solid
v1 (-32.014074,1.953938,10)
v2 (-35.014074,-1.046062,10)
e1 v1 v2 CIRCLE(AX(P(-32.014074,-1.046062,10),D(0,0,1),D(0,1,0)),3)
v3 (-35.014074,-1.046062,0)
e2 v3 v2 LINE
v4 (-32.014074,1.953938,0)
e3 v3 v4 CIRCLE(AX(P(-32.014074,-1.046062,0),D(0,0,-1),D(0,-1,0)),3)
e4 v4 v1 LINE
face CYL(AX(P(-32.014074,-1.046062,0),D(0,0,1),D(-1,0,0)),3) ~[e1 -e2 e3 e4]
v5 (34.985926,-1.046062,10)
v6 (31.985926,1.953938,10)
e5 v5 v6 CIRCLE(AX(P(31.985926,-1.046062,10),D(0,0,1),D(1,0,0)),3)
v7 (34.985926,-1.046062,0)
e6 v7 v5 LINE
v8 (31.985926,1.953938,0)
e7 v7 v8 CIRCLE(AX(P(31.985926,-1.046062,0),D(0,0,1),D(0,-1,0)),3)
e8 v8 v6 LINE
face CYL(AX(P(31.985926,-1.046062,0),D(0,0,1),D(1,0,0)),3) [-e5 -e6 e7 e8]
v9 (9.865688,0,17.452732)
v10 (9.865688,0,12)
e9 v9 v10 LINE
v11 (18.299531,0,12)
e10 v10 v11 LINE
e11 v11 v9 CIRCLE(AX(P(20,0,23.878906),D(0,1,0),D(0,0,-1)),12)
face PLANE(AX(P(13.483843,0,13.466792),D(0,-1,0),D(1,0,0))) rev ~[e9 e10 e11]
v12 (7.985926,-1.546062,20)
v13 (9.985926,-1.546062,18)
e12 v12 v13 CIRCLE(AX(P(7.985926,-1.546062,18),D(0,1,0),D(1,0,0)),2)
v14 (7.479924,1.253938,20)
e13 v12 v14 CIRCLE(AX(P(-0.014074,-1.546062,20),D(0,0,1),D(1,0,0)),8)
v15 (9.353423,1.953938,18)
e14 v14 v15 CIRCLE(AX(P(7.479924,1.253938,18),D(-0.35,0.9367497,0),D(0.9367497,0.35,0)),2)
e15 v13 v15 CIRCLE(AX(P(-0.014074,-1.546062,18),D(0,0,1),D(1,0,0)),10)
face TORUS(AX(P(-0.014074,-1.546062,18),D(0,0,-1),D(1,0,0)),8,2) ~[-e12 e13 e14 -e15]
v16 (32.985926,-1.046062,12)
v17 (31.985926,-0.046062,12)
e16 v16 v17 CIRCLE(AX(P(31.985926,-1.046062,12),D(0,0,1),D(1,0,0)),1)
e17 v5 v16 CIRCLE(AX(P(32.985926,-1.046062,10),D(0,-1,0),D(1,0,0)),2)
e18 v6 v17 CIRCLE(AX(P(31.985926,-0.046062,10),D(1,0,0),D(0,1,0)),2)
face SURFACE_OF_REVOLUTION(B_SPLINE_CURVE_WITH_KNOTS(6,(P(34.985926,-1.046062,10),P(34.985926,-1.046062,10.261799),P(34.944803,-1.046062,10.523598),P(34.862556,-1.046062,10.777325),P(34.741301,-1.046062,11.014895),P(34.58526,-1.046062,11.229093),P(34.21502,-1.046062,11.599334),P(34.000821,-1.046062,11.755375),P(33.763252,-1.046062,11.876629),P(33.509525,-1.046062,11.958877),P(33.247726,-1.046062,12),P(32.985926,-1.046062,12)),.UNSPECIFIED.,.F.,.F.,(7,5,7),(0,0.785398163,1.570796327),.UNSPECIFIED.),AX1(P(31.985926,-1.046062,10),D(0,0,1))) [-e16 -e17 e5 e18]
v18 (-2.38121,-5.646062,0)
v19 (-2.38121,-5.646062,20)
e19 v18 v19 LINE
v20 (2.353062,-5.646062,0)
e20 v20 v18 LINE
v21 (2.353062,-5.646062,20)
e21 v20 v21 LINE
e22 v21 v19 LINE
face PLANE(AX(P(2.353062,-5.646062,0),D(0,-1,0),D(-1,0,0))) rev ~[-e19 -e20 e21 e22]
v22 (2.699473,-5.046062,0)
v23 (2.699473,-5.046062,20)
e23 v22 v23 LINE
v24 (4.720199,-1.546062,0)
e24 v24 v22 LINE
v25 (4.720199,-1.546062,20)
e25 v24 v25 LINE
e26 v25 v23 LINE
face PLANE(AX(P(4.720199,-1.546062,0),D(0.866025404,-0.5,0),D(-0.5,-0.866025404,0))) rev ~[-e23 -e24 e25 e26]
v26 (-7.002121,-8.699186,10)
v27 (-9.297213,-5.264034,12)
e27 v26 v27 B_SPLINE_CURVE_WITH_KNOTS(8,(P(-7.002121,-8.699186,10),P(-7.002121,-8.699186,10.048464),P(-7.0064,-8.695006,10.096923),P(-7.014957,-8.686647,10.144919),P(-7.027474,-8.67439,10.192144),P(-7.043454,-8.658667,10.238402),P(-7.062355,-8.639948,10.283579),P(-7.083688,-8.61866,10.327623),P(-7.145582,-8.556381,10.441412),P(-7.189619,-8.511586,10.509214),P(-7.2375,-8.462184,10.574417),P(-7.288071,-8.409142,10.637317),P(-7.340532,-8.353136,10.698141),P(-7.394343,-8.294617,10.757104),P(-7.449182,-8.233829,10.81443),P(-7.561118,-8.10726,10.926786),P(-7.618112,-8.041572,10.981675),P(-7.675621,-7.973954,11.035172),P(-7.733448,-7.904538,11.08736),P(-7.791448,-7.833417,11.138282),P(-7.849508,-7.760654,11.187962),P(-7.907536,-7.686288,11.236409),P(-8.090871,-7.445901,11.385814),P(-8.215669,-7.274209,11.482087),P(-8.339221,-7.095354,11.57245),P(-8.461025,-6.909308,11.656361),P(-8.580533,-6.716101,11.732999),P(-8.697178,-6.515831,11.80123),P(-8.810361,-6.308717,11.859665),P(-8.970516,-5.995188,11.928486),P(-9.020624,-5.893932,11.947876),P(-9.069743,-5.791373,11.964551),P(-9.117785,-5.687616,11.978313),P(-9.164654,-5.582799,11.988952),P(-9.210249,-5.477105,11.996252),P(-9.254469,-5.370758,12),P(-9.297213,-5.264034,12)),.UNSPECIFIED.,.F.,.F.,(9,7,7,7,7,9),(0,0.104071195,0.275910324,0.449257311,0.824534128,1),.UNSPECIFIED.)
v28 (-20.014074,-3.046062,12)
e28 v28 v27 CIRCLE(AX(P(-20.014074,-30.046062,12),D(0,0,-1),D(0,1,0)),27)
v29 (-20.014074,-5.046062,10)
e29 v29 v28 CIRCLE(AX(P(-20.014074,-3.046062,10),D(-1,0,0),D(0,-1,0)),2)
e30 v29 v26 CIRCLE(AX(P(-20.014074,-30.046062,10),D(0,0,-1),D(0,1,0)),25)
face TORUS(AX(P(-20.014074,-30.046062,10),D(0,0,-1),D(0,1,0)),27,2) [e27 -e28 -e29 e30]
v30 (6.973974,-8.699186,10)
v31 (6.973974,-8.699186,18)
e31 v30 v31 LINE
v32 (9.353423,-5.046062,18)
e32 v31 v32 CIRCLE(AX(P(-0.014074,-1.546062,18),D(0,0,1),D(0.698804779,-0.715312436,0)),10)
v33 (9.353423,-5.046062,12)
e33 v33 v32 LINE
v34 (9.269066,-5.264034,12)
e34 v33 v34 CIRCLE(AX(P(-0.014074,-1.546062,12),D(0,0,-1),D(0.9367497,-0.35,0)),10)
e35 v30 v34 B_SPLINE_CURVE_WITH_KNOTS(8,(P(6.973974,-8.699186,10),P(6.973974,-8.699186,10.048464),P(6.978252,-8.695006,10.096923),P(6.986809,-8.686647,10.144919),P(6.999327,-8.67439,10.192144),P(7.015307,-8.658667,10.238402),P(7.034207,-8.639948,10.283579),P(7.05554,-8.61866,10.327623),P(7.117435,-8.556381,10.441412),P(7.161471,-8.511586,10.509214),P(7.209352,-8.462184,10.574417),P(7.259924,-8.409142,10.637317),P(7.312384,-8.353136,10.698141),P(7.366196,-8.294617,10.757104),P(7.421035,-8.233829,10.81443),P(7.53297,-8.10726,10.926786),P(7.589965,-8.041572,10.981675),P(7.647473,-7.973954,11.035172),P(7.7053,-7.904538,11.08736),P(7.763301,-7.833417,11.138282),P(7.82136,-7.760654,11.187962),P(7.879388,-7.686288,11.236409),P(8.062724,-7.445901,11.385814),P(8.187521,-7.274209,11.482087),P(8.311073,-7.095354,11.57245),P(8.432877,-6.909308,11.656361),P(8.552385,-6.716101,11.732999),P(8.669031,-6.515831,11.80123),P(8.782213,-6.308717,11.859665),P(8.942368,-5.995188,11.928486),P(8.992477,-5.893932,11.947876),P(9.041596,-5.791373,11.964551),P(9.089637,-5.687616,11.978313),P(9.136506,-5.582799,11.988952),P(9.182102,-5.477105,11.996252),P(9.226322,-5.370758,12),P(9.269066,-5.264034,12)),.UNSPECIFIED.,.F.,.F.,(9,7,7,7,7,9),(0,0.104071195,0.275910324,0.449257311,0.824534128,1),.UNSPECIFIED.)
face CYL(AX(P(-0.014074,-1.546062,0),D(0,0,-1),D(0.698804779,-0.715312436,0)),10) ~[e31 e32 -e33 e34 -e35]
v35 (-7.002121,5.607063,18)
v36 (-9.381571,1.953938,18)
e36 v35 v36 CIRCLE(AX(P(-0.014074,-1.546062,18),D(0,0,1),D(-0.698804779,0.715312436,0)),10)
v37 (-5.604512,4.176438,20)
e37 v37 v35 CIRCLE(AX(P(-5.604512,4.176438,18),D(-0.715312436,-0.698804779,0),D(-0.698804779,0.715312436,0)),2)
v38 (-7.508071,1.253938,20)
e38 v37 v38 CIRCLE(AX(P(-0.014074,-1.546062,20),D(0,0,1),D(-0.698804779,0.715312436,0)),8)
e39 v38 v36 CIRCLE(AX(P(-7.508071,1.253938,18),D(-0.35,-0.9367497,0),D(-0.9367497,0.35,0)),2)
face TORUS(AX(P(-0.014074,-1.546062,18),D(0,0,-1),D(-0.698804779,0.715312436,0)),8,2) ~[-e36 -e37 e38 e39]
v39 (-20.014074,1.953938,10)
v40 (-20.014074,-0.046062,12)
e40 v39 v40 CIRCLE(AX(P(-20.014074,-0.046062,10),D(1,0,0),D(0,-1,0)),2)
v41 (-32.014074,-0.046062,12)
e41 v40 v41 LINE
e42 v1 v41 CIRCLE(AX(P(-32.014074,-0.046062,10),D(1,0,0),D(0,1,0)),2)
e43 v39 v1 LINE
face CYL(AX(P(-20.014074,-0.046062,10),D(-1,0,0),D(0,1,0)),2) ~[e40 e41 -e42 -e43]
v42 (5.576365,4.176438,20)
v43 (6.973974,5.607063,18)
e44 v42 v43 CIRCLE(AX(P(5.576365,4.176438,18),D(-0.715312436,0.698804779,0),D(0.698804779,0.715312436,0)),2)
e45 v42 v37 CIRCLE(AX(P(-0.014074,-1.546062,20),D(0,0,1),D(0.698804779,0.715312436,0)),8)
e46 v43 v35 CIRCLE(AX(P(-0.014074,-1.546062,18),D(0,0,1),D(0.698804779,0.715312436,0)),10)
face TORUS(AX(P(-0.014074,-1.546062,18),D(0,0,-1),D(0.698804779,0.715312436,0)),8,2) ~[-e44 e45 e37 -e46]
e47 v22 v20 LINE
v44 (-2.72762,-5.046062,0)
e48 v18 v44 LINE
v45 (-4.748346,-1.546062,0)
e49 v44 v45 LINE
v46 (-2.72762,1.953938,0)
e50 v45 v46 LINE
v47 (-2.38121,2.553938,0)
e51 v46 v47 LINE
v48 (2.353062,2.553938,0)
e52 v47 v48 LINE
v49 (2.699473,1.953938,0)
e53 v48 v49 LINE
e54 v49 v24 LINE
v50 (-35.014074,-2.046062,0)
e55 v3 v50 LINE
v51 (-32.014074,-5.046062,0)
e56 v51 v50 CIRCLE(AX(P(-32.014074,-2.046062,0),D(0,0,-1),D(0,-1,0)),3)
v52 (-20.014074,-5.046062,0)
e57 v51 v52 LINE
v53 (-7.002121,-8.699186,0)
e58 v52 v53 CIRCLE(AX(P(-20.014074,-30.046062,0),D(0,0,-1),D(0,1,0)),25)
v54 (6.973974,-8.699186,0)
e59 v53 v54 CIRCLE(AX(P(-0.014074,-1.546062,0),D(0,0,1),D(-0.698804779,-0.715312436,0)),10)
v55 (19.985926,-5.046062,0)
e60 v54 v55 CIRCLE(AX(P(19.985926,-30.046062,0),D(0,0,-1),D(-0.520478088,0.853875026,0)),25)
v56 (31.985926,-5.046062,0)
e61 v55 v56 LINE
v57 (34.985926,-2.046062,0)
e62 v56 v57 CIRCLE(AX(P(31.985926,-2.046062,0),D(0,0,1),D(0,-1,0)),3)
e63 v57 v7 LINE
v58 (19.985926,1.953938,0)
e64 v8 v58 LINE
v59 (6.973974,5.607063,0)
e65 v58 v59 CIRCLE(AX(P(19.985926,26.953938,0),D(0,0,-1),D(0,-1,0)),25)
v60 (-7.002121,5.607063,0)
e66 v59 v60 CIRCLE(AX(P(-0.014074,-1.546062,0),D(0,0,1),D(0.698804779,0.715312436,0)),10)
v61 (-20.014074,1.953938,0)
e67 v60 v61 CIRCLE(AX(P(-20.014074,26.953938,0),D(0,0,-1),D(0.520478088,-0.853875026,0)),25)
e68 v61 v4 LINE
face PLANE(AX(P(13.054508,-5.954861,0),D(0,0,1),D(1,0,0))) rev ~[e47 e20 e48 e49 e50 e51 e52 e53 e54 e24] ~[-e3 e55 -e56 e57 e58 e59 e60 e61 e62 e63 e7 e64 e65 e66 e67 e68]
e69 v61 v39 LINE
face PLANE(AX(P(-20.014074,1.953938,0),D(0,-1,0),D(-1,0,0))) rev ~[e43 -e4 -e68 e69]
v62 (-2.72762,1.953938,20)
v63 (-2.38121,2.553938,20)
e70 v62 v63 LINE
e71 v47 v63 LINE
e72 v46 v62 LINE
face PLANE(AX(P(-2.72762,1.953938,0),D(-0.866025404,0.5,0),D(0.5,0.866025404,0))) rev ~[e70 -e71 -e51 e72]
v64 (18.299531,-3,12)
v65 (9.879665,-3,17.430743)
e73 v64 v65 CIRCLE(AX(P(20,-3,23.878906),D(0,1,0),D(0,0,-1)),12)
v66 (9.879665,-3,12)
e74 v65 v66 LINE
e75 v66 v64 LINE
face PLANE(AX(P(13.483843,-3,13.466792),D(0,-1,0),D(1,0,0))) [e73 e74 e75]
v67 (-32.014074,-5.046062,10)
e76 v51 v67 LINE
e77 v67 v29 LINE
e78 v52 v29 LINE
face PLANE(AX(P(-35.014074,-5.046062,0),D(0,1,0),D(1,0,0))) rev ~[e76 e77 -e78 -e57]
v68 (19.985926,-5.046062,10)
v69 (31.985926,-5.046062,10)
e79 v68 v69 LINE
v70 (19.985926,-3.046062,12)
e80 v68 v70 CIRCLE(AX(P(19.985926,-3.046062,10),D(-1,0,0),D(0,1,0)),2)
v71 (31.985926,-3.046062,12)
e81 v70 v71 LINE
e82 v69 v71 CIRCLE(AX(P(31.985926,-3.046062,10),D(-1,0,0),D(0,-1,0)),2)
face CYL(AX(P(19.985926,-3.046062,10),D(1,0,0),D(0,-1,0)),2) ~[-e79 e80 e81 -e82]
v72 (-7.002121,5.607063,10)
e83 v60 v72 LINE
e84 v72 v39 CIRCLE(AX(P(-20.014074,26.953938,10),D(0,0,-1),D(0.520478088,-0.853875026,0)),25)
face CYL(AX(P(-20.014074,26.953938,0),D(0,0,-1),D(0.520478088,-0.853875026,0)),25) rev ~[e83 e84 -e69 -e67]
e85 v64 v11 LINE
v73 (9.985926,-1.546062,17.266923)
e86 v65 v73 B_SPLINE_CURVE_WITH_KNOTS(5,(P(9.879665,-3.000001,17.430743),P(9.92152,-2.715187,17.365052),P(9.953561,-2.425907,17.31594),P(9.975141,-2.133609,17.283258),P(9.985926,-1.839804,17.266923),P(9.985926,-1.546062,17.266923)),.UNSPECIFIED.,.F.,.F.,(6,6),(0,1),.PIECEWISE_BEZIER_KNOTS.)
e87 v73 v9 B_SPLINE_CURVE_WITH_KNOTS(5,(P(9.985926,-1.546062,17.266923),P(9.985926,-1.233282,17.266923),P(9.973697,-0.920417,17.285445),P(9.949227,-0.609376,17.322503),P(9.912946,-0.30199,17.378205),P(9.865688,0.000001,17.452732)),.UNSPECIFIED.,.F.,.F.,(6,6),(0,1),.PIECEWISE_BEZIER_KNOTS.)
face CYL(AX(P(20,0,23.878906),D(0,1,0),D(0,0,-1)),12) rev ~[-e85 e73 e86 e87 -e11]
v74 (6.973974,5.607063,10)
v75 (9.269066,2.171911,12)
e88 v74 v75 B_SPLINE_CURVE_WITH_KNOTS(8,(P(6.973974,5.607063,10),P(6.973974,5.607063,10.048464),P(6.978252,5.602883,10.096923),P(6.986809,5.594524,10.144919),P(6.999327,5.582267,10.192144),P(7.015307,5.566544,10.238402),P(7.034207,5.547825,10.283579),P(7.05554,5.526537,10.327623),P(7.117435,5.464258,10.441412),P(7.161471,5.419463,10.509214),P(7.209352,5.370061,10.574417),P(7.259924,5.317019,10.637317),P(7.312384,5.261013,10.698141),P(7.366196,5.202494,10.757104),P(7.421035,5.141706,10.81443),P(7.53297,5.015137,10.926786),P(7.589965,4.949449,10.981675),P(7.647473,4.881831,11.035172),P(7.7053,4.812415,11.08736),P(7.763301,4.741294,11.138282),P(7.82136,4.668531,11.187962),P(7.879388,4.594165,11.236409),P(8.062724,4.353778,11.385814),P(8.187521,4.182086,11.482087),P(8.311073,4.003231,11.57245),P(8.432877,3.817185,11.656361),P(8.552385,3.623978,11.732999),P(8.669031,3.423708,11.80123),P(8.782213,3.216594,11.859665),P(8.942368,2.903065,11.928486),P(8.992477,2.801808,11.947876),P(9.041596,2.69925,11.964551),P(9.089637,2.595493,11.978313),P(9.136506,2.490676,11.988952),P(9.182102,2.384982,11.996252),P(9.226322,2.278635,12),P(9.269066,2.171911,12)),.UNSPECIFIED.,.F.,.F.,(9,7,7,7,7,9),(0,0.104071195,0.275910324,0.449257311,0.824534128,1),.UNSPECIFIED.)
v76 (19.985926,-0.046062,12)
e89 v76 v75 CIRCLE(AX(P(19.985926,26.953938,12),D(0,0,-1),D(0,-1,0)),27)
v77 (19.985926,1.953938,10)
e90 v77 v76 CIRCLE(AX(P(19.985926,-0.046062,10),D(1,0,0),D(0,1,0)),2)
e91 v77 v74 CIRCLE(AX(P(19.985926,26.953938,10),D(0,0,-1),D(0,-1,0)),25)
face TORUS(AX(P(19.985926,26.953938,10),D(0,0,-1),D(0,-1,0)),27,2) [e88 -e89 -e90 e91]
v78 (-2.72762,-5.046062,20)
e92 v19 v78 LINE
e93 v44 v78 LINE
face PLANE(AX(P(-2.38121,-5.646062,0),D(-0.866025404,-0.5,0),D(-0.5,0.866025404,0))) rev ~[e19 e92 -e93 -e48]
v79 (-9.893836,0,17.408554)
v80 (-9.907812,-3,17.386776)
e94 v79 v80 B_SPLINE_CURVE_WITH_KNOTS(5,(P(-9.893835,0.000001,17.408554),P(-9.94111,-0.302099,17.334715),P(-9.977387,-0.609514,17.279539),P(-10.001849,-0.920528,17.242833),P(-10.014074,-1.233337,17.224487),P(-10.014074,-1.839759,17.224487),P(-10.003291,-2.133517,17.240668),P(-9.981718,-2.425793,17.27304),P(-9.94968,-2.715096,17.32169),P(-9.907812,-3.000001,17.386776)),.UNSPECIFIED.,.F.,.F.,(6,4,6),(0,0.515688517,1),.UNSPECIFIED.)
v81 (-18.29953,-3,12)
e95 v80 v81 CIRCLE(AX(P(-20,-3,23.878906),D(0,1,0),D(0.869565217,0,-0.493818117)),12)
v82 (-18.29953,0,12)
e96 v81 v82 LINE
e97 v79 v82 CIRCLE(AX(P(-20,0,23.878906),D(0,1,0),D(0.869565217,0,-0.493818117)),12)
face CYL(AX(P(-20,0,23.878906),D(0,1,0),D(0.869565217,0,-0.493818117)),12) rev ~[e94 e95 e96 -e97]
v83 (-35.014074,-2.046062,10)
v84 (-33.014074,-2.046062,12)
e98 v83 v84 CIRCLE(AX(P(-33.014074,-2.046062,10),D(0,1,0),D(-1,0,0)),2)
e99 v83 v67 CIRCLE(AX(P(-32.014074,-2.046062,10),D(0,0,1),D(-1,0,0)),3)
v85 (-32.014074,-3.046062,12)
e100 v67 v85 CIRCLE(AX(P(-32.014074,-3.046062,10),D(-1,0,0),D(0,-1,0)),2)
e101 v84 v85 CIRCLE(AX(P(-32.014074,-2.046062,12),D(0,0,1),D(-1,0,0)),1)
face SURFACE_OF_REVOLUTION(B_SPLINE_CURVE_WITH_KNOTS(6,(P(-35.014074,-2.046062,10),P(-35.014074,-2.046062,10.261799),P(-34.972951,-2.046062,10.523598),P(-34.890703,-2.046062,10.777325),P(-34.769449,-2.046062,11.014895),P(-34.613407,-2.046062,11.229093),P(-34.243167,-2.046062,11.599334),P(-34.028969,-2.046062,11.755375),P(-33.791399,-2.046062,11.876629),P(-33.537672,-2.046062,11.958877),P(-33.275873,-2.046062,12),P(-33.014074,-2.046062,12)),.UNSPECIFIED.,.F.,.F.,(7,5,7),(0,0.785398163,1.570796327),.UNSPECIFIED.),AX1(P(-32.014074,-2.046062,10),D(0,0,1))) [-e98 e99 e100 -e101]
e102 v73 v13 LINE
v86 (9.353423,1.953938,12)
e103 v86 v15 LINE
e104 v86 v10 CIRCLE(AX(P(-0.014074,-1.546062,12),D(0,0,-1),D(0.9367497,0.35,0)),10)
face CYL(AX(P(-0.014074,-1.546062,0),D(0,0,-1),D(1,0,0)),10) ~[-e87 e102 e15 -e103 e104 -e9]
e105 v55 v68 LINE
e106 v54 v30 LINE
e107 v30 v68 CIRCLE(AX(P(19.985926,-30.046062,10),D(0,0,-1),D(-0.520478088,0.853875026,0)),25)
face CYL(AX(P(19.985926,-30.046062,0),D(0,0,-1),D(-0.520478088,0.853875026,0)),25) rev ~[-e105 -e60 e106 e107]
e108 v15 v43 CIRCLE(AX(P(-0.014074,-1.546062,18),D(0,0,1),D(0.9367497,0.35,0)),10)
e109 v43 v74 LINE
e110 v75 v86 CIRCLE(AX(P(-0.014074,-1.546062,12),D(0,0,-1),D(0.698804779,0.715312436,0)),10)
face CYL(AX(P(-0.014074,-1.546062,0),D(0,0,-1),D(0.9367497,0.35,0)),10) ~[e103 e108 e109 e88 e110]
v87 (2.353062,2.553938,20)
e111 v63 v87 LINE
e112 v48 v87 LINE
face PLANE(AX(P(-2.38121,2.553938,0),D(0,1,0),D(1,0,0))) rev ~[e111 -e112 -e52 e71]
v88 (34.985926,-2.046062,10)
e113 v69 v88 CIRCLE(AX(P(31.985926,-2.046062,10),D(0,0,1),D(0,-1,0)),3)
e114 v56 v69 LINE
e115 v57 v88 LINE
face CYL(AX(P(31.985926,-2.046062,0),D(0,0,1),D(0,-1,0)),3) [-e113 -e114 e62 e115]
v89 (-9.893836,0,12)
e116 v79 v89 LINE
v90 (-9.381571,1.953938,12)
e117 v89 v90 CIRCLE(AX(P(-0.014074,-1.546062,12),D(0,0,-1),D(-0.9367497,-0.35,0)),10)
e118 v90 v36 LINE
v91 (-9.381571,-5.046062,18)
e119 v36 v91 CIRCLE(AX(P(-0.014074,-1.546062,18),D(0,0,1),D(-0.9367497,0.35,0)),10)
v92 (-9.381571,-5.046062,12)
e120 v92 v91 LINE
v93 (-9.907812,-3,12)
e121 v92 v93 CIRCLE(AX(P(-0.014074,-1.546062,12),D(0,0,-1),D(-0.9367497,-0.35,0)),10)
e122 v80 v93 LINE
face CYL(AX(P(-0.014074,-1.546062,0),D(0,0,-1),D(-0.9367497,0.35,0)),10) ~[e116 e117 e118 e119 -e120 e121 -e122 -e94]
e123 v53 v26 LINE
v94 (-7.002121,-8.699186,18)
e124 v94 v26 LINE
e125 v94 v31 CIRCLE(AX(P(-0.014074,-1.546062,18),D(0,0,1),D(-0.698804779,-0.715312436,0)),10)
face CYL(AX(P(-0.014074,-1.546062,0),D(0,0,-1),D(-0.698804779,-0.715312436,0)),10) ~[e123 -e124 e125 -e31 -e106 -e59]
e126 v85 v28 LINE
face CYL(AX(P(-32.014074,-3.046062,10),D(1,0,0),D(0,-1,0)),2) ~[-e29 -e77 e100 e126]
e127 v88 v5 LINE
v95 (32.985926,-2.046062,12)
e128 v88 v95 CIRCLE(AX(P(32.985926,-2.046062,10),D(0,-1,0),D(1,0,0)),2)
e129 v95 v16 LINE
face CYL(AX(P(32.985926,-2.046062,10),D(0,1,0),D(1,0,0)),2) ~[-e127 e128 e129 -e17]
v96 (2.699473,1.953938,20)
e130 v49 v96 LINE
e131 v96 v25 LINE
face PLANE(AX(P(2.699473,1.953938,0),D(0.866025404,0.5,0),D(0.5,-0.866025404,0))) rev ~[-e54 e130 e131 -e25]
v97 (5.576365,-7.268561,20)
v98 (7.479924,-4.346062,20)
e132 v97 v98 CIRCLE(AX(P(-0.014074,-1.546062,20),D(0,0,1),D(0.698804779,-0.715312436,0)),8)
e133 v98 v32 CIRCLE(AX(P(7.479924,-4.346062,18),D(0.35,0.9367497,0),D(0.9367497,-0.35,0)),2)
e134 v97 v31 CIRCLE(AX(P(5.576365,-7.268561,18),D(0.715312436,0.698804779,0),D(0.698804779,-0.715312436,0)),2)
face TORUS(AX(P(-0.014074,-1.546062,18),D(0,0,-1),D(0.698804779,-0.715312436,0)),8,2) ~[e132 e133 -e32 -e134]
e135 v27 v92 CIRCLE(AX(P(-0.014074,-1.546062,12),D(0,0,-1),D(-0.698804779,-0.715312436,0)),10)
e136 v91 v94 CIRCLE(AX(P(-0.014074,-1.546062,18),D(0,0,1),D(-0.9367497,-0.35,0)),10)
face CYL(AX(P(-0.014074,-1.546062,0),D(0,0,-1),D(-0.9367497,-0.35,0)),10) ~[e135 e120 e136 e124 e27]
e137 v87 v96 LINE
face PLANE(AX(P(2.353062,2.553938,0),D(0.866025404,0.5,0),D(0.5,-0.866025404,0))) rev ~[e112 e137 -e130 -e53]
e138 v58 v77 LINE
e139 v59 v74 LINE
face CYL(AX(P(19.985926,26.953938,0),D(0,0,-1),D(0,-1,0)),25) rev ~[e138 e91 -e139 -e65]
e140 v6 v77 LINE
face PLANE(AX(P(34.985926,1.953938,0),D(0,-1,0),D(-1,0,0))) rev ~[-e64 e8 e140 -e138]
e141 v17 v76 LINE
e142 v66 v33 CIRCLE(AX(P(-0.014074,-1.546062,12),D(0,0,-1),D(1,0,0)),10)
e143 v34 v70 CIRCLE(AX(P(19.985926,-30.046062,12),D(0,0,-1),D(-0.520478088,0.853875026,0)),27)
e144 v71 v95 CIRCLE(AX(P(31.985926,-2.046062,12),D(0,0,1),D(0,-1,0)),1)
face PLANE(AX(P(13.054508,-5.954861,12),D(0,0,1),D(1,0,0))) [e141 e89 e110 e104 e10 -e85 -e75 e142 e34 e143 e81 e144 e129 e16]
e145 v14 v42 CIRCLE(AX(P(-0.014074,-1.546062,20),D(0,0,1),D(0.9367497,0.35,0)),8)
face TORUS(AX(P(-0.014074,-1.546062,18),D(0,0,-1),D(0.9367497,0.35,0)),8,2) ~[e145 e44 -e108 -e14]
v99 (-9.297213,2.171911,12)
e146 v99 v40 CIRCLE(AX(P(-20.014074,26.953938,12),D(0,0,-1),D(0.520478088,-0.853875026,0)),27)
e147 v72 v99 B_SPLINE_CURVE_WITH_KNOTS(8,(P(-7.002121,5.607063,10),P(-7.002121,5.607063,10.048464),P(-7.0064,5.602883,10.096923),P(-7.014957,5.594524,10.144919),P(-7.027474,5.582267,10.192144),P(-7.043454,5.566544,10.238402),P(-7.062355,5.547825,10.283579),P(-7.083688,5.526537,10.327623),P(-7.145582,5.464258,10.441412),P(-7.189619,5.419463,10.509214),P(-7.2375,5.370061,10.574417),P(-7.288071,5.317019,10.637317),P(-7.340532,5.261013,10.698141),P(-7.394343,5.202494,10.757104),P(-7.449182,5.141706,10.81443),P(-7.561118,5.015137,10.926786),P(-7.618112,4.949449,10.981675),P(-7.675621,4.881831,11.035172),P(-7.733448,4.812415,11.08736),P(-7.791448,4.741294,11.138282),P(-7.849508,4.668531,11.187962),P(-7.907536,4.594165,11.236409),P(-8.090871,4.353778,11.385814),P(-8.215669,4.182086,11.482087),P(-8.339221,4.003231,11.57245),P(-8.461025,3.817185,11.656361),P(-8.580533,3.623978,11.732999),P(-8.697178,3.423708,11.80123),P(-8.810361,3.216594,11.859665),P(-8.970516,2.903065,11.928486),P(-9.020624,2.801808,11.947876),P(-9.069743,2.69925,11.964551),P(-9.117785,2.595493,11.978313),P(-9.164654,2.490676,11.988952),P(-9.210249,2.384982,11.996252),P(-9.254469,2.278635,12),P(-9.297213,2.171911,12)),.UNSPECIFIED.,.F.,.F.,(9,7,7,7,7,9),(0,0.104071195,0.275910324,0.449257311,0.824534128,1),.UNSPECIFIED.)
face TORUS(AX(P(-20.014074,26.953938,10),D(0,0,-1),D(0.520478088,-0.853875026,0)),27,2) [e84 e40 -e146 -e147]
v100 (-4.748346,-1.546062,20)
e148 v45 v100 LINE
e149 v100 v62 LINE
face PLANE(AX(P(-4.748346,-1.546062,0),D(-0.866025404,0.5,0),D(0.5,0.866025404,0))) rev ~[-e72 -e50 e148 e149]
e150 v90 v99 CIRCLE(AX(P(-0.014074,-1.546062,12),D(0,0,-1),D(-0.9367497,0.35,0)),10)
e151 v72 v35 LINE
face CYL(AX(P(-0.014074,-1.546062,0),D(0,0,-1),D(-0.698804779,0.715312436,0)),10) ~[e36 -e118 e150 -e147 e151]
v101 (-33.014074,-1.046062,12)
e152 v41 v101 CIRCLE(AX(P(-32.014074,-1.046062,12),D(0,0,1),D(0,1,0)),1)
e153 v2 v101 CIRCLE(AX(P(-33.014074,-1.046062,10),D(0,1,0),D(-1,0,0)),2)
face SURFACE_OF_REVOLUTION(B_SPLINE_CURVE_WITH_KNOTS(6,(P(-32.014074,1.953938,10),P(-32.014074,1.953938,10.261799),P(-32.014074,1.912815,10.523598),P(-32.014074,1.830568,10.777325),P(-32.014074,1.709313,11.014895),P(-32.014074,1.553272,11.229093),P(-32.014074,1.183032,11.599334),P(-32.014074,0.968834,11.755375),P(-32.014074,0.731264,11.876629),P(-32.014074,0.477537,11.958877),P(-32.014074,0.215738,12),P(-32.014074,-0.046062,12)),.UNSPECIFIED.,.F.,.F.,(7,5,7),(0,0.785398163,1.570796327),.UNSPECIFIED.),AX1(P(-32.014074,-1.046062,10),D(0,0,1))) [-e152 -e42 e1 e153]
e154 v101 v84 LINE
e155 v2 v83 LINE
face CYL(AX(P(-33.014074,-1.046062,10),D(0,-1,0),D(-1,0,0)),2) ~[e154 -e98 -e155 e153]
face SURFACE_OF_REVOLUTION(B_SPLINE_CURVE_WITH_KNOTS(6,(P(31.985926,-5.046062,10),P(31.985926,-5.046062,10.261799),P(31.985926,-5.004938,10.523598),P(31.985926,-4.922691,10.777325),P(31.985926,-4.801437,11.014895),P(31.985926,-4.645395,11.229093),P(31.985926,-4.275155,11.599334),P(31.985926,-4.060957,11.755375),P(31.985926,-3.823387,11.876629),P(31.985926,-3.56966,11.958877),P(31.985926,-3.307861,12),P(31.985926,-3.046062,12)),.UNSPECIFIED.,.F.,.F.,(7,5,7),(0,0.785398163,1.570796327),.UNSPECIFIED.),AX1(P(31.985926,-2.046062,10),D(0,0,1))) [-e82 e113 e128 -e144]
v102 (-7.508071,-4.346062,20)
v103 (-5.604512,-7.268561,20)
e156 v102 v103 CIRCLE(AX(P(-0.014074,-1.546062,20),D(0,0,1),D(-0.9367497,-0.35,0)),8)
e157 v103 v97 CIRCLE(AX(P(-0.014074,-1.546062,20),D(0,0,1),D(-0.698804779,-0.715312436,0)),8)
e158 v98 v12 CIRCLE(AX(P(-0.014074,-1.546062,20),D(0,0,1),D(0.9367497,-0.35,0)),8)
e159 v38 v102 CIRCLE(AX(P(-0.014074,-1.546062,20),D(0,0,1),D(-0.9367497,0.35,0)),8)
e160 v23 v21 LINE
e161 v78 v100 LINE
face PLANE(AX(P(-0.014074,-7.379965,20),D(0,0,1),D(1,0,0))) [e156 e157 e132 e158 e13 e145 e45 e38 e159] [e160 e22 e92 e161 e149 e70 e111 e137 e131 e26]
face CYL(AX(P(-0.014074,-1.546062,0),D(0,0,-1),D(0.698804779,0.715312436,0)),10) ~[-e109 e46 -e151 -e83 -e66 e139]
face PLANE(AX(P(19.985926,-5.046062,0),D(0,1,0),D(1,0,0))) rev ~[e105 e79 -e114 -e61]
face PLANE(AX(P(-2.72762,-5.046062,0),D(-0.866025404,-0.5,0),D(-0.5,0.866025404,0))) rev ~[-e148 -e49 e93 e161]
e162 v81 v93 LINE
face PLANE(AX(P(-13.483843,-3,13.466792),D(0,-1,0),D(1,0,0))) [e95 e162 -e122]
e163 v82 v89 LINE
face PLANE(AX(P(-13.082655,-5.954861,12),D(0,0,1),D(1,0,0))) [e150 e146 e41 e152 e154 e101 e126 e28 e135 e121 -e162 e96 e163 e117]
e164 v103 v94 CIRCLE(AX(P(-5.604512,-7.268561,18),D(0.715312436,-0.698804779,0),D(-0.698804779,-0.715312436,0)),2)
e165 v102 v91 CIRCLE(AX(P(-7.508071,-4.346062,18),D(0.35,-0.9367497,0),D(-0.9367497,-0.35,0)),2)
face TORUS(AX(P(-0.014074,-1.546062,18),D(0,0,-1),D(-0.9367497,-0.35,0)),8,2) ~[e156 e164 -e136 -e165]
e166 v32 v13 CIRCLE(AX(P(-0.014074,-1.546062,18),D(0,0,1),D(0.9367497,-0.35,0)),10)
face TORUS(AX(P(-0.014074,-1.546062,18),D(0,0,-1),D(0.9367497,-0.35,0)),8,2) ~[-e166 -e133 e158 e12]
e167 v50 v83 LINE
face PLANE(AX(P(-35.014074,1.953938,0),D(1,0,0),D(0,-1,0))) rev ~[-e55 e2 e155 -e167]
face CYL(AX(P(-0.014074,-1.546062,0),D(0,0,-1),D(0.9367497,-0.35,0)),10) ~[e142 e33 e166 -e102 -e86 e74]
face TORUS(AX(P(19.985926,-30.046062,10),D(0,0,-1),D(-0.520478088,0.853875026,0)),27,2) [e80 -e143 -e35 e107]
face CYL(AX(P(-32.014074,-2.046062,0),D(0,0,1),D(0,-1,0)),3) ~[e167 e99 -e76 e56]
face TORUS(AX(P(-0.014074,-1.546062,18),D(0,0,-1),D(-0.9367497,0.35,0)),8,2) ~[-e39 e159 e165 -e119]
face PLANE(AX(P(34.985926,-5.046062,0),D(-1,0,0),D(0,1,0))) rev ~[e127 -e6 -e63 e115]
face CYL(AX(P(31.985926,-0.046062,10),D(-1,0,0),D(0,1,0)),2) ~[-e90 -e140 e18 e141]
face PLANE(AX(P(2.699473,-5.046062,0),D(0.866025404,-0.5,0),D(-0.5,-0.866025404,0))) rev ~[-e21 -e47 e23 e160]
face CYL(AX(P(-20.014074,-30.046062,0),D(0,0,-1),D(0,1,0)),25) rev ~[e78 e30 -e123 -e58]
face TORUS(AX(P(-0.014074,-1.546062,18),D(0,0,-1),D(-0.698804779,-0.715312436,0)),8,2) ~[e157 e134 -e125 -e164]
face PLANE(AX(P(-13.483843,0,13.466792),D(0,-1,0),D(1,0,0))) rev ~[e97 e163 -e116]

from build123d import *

# Parameters (mm, degrees)
F1_DEPTH = 20
F2_DEPTH = 12
F3_R     = 3
F4_R     = 2
F6_DEPTH = 3


with BuildPart() as f1:
    # F0 (on Top) → F1 (new body)
    with BuildSketch(Plane.XY):
        with BuildLine():
            Line((-2.7276199649, -5.0460615367), (-9.3815706973, -5.0460615367))
            ThreePointArc((-9.3815706973, -5.0460615367), (-8.3933511583, -7.0038733026), (-7.002121491, -8.6991858936))
            ThreePointArc((-7.002121491, -8.6991858936), (-0.0140736997, -11.5460615367), (6.9739740916, -8.6991858936))
            ThreePointArc((6.9739740916, -8.6991858936), (8.3652037588, -7.0038733026), (9.3534232979, -5.0460615367))
            Line((9.3534232979, -5.0460615367), (2.6994725655, -5.0460615367))
            Line((2.6994725655, -5.0460615367), (2.353062404, -5.6460615367))
            Line((2.353062404, -5.6460615367), (-2.3812098034, -5.6460615367))
            Line((-2.3812098034, -5.6460615367), (-2.7276199649, -5.0460615367))
        make_face()
        with BuildLine():
            Line((-2.7276199649, 1.9539384633), (-9.3815706973, 1.9539384633))
            ThreePointArc((-9.3815706973, 1.9539384633), (-10.0140736997, -1.5460615367), (-9.3815706973, -5.0460615367))
            Line((-9.3815706973, -5.0460615367), (-2.7276199649, -5.0460615367))
            Line((-2.7276199649, -5.0460615367), (-4.7483459071, -1.5460615367))
            Line((-4.7483459071, -1.5460615367), (-2.7276199649, 1.9539384633))
        make_face()
        with BuildLine():
            ThreePointArc((-7.002121491, 5.6070628203), (-8.3933511583, 3.9117502293), (-9.3815706973, 1.9539384633))
            Line((-9.3815706973, 1.9539384633), (-2.7276199649, 1.9539384633))
            Line((-2.7276199649, 1.9539384633), (-2.3812098034, 2.5539384633))
            Line((-2.3812098034, 2.5539384633), (2.353062404, 2.5539384633))
            Line((2.353062404, 2.5539384633), (2.6994725655, 1.9539384633))
            Line((2.6994725655, 1.9539384633), (9.3534232979, 1.9539384633))
            ThreePointArc((9.3534232979, 1.9539384633), (8.3652037588, 3.9117502293), (6.9739740916, 5.6070628203))
            ThreePointArc((6.9739740916, 5.6070628203), (-0.0140736997, 8.4539384633), (-7.002121491, 5.6070628203))
        make_face()
        with BuildLine():
            Line((9.3534232979, 1.9539384633), (2.6994725655, 1.9539384633))
            Line((2.6994725655, 1.9539384633), (4.7201985076, -1.5460615367))
            Line((4.7201985076, -1.5460615367), (2.6994725655, -5.0460615367))
            Line((2.6994725655, -5.0460615367), (9.3534232979, -5.0460615367))
            ThreePointArc((9.3534232979, -5.0460615367), (9.8265301937, -3.3244076818), (9.9859263003, -1.5460615367))
            ThreePointArc((9.9859263003, -1.5460615367), (9.8265301937, 0.2322846085), (9.3534232979, 1.9539384633))
        make_face()
    extrude(amount=F1_DEPTH)

    # F0 (on Top) → F2 (join)
    with BuildSketch(Plane.XY):
        with BuildLine():
            ThreePointArc((9.3534232979, -5.0460615367), (8.3652037588, -7.0038733026), (6.9739740916, -8.6991858936))
            ThreePointArc((6.9739740916, -8.6991858936), (13.2284079346, -5.9766630079), (19.9859263003, -5.0460615367))
            Line((19.9859263003, -5.0460615367), (9.3534232979, -5.0460615367))
        make_face()
        with BuildLine():
            ThreePointArc((19.9859263003, 1.9539384633), (13.2284079346, 2.8845399345), (6.9739740916, 5.6070628203))
            ThreePointArc((6.9739740916, 5.6070628203), (8.3652037588, 3.9117502293), (9.3534232979, 1.9539384633))
            Line((9.3534232979, 1.9539384633), (19.9859263003, 1.9539384633))
        make_face()
        with BuildLine():
            Line((19.9859263003, 1.9539384633), (9.3534232979, 1.9539384633))
            ThreePointArc((9.3534232979, 1.9539384633), (9.8265301937, 0.2322846085), (9.9859263003, -1.5460615367))
            ThreePointArc((9.9859263003, -1.5460615367), (9.8265301937, -3.3244076818), (9.3534232979, -5.0460615367))
            Line((9.3534232979, -5.0460615367), (19.9859263003, -5.0460615367))
            Line((19.9859263003, -5.0460615367), (34.9859263003, -5.0460615367))
            Line((34.9859263003, -5.0460615367), (34.9859263003, 1.9539384633))
            Line((34.9859263003, 1.9539384633), (19.9859263003, 1.9539384633))
        make_face()
        with BuildLine():
            Line((-9.3815706973, -5.0460615367), (-20.0140736997, -5.0460615367))
            ThreePointArc((-20.0140736997, -5.0460615367), (-13.2565553341, -5.9766630079), (-7.002121491, -8.6991858936))
            ThreePointArc((-7.002121491, -8.6991858936), (-8.3933511583, -7.0038733026), (-9.3815706973, -5.0460615367))
        make_face()
        with BuildLine():
            Line((-20.0140736997, 1.9539384633), (-35.0140736997, 1.9539384633))
            Line((-35.0140736997, 1.9539384633), (-35.0140736997, -5.0460615367))
            Line((-35.0140736997, -5.0460615367), (-20.0140736997, -5.0460615367))
            Line((-20.0140736997, -5.0460615367), (-9.3815706973, -5.0460615367))
            ThreePointArc((-9.3815706973, -5.0460615367), (-10.0140736997, -1.5460615367), (-9.3815706973, 1.9539384633))
            Line((-9.3815706973, 1.9539384633), (-20.0140736997, 1.9539384633))
        make_face()
        with BuildLine():
            ThreePointArc((-7.002121491, 5.6070628203), (-13.2565553341, 2.8845399345), (-20.0140736997, 1.9539384633))
            Line((-20.0140736997, 1.9539384633), (-9.3815706973, 1.9539384633))
            ThreePointArc((-9.3815706973, 1.9539384633), (-8.3933511583, 3.9117502293), (-7.002121491, 5.6070628203))
        make_face()
    extrude(amount=F2_DEPTH)

    # F3
    f3_edges = [f1.edges().sort_by_distance(p)[0] for p in [
        (-35.014074, 1.953938, 6),
        (-35.014074, -5.046062, 6),
        (34.985926, -5.046062, 6),
        (34.985926, 1.953938, 6),
    ]]
    fillet(f3_edges, radius=F3_R)

    # F4
    f4_edges = [f1.edges().sort_by_distance(p)[0] for p in [
        (-26.014074, -5.046062, 12),
        (13.228408, -5.976663, 12),
        (-9.381571, 1.953938, 20),
    ]]
    fillet(f4_edges, radius=F4_R)

    # F5 (on Front) → F6 (join)
    with BuildSketch(Plane.XZ):
        with BuildLine():
            ThreePointArc((-9.5652169443, 17.9530884136), (-13.9630221988, 13.5080377527), (-19.999999553, 11.8789058179))
            Line((-19.999999553, 11.8789058179), (-9.5652169443, 11.8789058179))
            Line((-9.5652169443, 11.8789058179), (-9.5652169443, 17.9530884136))
        make_face()
        with BuildLine():
            ThreePointArc((20.000000447, 11.8789058179), (13.9630230929, 13.5080377527), (9.5652178383, 17.9530884136))
            Line((9.5652178383, 17.9530884136), (9.5652178383, 11.8789058179))
            Line((9.5652178383, 11.8789058179), (20.000000447, 11.8789058179))
        make_face()
    extrude(amount=F6_DEPTH)


solid = f1.part
